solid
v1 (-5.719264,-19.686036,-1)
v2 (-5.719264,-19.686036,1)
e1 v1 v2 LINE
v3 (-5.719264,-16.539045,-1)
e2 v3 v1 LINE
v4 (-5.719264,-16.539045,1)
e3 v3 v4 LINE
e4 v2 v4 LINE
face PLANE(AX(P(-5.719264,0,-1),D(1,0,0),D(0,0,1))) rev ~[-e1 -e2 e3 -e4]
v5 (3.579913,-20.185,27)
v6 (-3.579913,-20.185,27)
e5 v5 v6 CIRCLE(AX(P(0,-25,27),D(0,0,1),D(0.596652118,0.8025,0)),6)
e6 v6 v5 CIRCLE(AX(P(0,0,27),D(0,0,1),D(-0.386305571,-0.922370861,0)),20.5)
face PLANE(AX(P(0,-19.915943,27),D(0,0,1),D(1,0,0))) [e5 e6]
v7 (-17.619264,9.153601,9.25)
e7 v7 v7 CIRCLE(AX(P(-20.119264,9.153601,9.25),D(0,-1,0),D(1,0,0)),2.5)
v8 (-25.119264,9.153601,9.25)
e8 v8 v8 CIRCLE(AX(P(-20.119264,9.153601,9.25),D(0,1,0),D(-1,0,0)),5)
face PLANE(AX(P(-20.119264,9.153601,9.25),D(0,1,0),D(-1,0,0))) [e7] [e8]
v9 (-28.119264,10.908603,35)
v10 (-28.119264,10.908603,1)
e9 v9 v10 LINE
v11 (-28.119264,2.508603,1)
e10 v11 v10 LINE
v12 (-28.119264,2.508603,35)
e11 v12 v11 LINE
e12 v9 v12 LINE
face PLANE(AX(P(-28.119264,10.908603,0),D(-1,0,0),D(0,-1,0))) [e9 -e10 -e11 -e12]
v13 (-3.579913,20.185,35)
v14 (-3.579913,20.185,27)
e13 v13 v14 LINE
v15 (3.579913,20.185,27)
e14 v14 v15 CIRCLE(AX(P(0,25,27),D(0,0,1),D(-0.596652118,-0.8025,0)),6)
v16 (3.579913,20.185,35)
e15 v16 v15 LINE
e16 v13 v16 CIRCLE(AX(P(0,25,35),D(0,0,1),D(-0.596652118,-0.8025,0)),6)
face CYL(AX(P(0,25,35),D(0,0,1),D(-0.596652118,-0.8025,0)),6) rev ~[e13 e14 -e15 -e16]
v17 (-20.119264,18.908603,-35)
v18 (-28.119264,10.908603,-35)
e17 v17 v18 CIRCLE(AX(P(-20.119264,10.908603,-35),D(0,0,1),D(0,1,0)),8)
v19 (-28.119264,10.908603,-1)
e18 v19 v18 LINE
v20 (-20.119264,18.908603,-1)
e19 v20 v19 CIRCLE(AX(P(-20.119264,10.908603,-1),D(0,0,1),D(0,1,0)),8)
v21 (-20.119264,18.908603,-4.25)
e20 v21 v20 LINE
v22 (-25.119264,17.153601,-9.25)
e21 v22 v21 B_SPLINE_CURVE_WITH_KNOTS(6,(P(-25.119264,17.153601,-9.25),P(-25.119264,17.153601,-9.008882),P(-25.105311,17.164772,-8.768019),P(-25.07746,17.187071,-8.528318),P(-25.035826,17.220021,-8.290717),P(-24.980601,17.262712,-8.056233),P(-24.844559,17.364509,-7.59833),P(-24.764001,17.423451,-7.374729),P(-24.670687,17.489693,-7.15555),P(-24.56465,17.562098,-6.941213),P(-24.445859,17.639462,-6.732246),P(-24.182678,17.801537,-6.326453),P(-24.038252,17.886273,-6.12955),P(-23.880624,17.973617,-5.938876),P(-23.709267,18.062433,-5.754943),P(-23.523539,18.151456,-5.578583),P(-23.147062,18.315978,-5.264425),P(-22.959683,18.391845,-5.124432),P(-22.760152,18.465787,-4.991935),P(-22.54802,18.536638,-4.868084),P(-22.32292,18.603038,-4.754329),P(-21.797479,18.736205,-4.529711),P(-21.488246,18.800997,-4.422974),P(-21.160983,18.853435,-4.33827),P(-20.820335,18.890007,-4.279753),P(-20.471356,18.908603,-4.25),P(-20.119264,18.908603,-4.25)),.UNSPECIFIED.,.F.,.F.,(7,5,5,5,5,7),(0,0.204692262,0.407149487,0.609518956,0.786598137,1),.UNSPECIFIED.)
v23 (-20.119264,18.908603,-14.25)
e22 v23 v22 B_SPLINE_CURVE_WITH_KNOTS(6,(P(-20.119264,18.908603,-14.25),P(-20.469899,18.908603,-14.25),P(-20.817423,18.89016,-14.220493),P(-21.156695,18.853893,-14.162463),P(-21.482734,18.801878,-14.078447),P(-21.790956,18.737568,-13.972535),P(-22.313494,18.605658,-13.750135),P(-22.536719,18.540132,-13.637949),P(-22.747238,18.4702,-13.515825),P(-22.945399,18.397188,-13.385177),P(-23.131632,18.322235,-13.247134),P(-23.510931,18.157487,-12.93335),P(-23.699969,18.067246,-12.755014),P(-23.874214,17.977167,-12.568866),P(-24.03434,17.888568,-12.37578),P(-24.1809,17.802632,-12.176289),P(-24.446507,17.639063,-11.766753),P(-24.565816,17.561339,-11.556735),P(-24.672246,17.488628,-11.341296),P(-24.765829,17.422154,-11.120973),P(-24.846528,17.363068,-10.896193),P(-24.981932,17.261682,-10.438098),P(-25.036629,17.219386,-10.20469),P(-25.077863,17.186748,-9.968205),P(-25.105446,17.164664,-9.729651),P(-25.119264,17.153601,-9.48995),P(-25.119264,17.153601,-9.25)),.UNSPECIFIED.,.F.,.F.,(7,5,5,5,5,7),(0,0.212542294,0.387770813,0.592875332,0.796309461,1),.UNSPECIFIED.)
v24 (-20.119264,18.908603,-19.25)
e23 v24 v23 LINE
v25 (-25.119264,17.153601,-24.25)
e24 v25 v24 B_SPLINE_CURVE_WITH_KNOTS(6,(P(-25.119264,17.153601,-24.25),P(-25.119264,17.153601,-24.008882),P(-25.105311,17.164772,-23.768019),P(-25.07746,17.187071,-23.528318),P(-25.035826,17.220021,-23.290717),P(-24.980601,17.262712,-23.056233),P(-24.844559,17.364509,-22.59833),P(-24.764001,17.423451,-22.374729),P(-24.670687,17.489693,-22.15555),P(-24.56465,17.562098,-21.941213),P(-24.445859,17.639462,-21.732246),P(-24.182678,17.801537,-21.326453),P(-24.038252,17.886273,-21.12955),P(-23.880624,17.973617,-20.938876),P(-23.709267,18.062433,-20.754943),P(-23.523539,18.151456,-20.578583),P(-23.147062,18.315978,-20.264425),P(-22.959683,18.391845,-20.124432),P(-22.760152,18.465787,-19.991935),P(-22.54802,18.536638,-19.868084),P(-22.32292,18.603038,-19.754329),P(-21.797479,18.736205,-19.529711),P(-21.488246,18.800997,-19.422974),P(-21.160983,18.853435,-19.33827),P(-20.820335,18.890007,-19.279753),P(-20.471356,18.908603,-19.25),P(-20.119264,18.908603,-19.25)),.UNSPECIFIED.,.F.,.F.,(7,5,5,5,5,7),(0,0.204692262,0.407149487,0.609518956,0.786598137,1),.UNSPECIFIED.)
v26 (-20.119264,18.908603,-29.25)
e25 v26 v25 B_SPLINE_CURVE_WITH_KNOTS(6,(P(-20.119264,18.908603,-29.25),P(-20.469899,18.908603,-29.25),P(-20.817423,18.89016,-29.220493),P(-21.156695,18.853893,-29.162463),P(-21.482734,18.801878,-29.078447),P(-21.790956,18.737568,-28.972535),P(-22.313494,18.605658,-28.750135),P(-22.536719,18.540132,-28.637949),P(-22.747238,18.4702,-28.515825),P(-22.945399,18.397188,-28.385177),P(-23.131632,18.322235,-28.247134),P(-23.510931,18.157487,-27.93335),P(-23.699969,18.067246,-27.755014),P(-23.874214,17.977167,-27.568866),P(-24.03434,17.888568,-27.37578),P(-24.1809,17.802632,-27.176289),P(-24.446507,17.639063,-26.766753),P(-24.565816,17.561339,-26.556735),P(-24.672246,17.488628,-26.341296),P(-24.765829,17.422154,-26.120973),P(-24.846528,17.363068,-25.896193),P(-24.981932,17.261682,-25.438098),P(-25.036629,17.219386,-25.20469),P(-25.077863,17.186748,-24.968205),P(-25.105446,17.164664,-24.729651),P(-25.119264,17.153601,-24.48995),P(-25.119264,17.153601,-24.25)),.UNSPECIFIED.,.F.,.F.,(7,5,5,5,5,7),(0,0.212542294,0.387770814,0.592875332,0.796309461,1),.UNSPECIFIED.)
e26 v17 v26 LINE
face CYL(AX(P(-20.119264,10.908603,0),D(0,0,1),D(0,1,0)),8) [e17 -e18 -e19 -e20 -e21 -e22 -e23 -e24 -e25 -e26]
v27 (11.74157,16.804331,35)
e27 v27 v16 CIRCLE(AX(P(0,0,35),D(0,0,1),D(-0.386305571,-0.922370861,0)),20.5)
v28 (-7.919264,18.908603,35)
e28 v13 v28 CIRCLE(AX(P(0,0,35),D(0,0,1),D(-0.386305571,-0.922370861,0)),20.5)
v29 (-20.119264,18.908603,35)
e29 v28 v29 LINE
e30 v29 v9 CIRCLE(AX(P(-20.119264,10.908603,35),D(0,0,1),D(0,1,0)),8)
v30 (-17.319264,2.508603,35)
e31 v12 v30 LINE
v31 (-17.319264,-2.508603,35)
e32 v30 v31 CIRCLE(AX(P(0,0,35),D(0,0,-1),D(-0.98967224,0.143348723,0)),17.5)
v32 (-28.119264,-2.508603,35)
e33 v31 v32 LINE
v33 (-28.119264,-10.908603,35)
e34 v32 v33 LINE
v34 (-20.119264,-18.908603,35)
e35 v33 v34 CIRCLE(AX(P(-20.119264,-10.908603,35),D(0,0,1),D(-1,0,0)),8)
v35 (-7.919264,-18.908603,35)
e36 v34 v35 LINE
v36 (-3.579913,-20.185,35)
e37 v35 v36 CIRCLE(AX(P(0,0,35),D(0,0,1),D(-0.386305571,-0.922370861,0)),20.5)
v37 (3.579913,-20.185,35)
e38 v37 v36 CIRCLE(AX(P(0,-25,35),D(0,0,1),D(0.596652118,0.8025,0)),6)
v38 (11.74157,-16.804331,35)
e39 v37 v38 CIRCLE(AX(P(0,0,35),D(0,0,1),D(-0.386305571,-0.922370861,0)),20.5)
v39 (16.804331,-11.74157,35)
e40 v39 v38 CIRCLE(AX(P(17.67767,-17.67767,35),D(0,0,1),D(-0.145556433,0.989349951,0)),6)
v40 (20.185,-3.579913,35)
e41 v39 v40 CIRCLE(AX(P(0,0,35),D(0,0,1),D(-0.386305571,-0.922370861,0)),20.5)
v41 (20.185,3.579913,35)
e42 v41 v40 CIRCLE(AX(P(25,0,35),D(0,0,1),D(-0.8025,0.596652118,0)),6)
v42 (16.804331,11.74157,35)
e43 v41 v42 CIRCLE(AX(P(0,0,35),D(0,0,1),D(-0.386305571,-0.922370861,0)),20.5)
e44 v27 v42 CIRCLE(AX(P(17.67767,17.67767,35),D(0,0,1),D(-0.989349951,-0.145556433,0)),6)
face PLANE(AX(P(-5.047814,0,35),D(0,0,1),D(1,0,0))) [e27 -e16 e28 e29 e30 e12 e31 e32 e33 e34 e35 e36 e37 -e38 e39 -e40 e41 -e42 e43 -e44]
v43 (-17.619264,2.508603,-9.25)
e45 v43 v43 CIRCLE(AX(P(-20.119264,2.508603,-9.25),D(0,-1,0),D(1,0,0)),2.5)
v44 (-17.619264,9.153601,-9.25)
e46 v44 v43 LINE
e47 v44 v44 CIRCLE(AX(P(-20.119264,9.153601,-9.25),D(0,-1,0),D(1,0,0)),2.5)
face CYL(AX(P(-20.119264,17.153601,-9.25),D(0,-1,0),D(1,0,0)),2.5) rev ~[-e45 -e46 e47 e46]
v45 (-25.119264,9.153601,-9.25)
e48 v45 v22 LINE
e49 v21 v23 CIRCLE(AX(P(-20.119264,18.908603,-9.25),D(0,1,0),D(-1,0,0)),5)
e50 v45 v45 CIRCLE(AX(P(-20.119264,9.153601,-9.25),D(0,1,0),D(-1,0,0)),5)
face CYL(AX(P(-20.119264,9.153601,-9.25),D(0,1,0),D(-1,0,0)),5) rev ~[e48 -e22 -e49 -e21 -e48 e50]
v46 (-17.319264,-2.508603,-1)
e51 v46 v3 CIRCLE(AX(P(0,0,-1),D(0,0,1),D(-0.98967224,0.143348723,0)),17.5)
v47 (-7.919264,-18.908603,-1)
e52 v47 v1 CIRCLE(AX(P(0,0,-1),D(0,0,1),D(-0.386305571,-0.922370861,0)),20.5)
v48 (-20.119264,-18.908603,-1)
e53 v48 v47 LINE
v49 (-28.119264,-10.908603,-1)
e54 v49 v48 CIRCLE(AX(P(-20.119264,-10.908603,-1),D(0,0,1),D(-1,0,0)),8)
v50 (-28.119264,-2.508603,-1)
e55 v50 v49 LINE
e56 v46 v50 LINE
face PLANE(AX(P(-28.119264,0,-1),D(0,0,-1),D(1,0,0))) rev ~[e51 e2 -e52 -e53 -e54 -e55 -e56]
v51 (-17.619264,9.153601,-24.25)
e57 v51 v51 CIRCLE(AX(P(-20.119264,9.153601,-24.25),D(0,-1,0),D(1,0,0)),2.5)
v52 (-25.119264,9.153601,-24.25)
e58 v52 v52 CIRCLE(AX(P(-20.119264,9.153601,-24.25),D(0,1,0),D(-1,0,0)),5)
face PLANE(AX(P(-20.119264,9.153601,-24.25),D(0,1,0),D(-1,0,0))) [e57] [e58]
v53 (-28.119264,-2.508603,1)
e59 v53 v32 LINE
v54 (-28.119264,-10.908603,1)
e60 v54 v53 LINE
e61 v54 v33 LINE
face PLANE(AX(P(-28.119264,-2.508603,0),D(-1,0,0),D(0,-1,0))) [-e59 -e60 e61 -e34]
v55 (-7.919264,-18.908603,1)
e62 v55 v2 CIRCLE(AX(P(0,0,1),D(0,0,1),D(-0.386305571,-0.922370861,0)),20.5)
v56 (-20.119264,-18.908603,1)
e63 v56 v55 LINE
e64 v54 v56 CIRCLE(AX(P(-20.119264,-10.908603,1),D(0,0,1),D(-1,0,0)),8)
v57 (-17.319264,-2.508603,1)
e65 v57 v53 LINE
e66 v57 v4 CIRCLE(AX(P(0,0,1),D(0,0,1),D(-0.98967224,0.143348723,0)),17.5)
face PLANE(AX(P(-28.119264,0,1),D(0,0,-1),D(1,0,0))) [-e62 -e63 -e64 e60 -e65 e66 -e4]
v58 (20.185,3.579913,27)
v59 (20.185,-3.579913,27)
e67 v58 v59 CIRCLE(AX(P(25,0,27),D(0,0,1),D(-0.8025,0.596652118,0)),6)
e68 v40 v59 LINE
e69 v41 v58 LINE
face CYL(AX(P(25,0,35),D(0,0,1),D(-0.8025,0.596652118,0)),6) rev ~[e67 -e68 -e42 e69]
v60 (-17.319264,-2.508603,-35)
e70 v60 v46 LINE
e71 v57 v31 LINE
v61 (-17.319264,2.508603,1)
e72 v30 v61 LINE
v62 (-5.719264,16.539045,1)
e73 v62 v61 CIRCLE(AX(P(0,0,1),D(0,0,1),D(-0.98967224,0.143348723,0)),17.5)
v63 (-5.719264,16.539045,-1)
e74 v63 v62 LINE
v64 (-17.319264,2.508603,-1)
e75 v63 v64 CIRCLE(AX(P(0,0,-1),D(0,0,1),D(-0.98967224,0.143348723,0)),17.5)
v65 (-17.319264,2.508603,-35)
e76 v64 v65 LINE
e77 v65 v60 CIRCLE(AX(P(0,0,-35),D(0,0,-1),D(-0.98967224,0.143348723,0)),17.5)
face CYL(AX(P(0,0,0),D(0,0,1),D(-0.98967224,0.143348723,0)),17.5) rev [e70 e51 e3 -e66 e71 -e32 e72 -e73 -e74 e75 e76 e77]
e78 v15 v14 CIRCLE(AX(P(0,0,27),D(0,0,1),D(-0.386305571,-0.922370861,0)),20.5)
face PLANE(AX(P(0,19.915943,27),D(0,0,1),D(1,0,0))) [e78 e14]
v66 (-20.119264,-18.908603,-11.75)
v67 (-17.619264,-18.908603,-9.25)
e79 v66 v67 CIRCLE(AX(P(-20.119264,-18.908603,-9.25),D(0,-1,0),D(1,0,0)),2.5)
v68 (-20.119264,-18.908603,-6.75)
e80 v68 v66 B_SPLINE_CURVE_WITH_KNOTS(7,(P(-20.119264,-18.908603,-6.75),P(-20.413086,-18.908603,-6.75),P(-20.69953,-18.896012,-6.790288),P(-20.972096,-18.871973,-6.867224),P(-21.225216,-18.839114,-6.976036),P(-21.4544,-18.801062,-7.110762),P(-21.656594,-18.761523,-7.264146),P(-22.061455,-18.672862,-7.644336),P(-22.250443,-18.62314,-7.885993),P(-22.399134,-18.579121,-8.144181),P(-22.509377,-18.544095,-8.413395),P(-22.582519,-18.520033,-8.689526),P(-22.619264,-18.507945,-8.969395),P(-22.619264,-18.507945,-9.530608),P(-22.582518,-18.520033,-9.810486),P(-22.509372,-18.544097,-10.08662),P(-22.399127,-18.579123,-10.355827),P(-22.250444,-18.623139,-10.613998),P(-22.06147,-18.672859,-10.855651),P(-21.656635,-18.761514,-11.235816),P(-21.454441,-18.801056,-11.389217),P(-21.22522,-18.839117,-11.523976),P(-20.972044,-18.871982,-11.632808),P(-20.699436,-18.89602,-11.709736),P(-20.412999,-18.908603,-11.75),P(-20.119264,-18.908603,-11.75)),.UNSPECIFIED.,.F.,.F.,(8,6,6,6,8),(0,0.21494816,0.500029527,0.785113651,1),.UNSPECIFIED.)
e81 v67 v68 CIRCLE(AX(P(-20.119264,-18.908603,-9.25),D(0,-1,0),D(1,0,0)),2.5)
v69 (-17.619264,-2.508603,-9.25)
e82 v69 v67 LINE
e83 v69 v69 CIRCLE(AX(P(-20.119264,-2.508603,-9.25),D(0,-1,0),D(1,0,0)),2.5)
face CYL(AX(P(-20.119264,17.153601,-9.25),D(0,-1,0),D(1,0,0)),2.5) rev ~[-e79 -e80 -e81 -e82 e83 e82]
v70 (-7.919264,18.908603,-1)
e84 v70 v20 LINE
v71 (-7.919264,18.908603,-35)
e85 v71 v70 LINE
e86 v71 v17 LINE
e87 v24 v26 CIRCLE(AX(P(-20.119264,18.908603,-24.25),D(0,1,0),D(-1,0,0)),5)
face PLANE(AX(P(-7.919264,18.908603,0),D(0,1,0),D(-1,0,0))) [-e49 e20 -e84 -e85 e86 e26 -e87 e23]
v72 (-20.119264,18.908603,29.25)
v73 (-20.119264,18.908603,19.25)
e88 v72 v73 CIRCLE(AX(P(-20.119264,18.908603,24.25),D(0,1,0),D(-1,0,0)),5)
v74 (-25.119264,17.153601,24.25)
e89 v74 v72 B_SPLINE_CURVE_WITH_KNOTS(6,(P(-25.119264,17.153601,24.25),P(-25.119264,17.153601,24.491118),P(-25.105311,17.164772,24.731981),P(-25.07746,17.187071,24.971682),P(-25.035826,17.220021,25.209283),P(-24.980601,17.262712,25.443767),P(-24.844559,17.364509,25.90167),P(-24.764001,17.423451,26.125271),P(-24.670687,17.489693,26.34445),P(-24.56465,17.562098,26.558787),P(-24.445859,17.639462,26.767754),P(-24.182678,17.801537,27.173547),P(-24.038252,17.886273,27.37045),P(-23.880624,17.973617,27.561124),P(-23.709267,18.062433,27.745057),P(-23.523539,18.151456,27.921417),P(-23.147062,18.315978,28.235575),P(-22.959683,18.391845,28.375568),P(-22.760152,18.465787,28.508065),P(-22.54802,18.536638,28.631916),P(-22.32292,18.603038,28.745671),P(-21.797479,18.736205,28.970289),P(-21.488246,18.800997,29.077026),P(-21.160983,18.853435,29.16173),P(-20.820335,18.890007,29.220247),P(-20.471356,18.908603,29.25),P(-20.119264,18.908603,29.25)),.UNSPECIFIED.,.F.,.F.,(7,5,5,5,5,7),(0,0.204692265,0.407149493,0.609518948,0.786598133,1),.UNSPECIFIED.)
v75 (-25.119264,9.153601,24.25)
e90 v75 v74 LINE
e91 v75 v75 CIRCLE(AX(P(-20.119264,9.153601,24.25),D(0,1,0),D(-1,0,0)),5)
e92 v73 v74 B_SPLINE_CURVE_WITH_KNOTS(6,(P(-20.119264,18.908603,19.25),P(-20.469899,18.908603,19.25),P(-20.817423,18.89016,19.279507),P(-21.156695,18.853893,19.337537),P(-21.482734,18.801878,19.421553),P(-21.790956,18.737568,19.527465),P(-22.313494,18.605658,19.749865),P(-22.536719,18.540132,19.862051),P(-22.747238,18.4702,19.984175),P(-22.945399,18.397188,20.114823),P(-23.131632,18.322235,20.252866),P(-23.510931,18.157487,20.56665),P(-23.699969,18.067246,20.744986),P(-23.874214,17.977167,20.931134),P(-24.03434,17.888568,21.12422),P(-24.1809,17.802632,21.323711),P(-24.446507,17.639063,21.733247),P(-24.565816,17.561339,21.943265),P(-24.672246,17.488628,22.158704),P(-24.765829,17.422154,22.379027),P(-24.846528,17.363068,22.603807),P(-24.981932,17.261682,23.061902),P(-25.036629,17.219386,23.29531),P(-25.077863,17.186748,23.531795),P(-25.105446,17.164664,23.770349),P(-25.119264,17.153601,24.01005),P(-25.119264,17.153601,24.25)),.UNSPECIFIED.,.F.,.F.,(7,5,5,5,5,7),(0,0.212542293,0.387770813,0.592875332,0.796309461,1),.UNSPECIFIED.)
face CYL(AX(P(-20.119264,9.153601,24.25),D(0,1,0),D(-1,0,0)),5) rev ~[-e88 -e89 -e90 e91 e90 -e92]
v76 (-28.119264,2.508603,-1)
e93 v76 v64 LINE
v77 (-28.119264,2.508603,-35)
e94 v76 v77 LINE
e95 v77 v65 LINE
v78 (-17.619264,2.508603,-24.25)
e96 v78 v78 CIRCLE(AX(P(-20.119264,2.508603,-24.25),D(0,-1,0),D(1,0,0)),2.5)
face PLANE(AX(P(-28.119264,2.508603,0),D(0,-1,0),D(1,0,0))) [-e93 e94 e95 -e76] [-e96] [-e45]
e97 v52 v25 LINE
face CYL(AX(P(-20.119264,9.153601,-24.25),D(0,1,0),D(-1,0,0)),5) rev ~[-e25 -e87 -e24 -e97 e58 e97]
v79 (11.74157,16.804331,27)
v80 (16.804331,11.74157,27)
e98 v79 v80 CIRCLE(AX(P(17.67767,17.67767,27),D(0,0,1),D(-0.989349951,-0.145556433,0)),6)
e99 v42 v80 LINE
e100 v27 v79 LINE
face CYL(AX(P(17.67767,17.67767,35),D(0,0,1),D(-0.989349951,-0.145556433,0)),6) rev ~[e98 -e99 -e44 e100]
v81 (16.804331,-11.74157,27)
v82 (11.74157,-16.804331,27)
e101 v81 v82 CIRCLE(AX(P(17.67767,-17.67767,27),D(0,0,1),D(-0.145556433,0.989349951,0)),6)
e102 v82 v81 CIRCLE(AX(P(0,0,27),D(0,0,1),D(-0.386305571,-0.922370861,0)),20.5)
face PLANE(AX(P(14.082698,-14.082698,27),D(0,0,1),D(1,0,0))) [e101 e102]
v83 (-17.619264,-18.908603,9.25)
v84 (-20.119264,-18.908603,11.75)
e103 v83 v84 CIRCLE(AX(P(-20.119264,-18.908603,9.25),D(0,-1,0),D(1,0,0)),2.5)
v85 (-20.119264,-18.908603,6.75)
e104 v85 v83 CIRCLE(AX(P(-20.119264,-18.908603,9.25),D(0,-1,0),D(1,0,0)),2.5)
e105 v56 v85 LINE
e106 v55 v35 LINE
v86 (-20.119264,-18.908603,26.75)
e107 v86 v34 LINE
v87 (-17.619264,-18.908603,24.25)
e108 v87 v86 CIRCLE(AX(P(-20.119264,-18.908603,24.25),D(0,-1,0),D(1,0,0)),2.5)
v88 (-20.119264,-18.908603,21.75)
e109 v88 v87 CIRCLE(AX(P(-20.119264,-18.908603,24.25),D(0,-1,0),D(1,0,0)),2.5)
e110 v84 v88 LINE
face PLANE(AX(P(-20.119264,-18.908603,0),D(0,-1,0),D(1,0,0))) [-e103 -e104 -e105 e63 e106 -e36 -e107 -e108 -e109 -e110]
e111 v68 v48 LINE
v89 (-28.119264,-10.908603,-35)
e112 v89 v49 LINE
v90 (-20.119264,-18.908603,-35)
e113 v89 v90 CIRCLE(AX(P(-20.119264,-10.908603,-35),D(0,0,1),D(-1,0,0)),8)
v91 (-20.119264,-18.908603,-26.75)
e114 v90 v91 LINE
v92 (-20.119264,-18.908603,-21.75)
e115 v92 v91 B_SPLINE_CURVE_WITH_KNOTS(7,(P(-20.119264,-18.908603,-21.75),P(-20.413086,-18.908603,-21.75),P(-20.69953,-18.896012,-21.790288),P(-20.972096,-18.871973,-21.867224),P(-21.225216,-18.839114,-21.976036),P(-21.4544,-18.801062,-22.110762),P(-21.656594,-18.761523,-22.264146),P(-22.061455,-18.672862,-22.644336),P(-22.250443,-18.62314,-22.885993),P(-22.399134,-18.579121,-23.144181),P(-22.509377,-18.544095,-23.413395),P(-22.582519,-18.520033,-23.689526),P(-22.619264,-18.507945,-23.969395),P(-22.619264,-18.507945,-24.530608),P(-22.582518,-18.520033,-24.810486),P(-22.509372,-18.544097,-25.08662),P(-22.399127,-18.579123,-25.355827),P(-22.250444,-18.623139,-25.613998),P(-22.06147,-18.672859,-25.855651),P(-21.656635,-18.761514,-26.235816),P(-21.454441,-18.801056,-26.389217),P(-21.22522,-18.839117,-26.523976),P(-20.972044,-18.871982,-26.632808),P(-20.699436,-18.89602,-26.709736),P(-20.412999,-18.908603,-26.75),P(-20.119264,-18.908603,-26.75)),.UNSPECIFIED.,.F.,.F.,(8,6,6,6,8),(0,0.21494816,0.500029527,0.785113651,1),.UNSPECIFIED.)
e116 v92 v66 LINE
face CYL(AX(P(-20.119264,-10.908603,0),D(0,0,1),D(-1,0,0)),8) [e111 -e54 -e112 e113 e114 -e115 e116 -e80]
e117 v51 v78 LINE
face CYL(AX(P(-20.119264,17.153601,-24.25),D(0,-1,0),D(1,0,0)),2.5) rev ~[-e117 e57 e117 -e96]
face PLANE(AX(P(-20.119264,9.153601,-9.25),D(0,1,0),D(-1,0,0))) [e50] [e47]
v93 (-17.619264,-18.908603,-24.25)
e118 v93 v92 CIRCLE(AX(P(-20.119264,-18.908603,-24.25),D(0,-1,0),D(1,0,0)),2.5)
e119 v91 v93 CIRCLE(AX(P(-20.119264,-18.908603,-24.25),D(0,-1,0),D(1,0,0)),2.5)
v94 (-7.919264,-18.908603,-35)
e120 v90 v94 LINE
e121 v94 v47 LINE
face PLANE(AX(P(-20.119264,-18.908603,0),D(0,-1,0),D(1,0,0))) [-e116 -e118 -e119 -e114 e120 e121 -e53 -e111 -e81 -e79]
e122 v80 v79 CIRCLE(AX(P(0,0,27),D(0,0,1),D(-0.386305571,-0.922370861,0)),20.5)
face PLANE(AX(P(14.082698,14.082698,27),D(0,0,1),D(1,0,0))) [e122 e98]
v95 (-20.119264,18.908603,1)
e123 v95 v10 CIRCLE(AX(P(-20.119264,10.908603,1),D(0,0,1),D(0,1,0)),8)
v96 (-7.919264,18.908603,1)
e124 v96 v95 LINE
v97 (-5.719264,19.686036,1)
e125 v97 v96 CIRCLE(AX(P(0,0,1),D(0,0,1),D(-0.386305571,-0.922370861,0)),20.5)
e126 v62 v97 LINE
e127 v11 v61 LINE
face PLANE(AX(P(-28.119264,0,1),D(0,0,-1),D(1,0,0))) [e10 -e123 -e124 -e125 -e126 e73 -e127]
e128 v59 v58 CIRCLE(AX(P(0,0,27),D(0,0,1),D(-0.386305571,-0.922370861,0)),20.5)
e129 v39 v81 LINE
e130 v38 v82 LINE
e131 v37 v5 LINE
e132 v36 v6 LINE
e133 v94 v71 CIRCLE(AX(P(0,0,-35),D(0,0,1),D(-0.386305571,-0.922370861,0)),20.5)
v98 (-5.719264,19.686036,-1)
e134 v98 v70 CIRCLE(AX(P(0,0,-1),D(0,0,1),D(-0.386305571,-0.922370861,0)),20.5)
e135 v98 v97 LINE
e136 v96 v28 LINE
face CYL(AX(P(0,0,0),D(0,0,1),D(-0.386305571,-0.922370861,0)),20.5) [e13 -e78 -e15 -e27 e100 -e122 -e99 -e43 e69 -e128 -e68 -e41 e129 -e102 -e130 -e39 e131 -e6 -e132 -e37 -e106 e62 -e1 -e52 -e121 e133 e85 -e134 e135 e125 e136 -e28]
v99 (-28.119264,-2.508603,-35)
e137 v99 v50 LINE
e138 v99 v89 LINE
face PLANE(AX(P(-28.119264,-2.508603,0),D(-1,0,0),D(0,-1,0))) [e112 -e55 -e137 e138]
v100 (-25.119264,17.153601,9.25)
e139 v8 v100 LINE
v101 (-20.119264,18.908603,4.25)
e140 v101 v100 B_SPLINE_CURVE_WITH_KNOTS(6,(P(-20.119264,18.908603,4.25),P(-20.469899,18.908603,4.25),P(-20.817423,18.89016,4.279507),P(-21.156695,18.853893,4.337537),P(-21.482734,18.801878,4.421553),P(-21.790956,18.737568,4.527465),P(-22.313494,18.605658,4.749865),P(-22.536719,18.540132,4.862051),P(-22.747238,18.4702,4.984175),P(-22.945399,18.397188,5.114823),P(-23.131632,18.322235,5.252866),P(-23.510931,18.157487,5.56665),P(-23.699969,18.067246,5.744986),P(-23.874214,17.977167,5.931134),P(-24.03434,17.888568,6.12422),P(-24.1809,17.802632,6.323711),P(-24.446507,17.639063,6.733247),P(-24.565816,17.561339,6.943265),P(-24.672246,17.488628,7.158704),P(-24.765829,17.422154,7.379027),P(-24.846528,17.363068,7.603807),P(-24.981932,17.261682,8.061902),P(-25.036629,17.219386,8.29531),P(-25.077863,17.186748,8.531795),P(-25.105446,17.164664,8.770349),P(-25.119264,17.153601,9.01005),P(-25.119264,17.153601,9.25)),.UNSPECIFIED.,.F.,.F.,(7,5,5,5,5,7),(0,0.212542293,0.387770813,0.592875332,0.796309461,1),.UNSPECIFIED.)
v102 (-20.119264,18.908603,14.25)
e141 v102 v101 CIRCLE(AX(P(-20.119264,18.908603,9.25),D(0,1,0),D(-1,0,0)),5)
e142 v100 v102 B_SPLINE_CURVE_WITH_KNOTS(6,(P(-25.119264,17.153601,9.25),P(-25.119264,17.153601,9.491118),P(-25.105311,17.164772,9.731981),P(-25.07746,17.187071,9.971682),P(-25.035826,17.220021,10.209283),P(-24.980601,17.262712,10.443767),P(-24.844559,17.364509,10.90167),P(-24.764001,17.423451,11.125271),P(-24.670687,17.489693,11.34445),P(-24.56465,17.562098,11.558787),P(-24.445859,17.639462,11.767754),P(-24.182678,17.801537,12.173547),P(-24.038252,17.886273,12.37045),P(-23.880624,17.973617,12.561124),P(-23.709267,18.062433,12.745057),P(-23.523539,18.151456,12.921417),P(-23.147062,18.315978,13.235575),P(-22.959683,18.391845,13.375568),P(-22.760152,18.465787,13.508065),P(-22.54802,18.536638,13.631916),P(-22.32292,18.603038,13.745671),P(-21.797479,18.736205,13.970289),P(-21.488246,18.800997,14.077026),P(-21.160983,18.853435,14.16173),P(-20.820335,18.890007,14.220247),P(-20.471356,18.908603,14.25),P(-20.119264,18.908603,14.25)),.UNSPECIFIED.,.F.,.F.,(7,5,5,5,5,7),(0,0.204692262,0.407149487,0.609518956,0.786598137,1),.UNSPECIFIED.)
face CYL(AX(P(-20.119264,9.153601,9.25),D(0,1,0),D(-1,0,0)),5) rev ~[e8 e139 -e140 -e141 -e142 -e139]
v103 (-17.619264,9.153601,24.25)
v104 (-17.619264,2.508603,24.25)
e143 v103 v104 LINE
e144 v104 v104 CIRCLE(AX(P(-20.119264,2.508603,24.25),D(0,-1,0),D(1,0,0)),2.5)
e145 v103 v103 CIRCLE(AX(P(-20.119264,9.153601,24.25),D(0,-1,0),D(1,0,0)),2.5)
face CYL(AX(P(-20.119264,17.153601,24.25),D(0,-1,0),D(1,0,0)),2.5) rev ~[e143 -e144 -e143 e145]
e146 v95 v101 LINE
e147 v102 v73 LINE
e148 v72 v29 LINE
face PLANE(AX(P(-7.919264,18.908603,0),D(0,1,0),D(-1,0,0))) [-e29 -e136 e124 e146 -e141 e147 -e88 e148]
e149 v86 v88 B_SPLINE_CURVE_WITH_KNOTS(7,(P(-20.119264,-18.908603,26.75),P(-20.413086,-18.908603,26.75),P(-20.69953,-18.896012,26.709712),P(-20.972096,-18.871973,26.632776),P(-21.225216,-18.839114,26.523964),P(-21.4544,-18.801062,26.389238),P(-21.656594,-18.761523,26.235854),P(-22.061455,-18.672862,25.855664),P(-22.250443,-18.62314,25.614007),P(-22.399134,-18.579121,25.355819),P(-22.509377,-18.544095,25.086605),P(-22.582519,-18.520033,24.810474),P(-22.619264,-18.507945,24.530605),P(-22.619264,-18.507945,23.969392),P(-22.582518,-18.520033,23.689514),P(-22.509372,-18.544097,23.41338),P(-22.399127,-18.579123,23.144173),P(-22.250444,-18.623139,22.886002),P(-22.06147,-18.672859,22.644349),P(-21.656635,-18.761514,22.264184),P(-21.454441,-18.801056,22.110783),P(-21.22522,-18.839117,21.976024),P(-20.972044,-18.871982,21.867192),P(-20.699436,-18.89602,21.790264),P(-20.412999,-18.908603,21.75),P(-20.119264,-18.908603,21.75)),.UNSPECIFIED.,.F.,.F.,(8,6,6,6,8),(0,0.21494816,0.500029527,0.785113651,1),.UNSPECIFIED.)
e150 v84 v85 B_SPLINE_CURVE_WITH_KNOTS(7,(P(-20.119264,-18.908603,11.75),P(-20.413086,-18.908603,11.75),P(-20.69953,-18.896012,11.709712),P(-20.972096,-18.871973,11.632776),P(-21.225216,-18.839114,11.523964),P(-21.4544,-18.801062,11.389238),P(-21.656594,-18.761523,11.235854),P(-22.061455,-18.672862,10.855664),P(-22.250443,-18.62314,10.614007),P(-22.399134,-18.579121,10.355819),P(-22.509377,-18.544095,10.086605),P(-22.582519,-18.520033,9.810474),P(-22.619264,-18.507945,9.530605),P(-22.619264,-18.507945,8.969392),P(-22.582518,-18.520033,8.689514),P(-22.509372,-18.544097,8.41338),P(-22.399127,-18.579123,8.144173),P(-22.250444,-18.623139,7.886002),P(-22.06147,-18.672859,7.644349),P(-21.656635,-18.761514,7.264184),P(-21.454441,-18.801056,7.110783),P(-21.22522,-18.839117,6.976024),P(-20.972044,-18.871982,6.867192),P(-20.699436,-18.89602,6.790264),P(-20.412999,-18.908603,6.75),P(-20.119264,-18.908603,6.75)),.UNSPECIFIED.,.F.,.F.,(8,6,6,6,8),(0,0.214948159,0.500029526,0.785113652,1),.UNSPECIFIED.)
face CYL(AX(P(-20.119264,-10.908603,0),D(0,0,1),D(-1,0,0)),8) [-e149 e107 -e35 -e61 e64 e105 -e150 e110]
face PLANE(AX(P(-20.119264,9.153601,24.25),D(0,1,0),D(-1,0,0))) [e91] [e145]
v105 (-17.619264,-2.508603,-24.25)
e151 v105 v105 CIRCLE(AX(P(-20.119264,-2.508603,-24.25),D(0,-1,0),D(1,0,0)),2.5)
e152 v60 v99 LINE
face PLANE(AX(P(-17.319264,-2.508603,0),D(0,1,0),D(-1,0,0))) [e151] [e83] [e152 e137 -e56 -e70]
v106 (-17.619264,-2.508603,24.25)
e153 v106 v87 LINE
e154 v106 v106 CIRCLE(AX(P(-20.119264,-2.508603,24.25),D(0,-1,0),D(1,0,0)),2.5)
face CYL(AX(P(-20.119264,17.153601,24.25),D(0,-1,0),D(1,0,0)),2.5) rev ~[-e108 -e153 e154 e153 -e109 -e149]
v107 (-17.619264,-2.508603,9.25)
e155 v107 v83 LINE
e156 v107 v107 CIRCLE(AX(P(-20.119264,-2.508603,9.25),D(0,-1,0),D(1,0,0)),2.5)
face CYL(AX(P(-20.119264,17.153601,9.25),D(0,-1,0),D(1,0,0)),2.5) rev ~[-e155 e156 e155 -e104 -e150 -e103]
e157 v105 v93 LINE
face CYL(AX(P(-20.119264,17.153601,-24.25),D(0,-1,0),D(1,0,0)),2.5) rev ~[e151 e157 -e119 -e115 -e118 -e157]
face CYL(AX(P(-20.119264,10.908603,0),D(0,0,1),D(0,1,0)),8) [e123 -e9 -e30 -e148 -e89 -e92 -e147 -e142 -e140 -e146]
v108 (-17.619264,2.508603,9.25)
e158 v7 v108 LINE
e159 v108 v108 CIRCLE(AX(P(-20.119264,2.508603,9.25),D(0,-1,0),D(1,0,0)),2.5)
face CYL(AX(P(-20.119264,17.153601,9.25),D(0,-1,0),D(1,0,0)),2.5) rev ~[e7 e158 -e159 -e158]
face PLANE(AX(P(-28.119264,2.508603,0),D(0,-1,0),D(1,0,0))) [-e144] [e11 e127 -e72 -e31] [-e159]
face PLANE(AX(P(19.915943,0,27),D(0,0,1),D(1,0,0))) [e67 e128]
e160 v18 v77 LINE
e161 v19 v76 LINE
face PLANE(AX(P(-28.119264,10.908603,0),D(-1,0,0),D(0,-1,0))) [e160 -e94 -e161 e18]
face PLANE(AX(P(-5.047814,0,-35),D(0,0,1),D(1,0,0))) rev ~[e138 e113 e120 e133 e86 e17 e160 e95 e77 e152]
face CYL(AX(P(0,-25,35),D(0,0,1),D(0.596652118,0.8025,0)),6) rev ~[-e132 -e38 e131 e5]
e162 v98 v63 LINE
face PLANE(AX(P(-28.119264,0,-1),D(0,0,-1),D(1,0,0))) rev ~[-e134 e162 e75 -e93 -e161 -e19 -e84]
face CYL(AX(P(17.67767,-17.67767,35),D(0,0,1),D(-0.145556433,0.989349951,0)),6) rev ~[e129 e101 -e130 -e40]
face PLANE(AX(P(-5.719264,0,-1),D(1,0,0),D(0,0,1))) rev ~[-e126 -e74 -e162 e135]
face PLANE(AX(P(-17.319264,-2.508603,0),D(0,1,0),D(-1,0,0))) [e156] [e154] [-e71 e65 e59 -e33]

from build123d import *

# Parameters (mm, degrees)
F1_DEPTH       = 35
F3_D           = 5
F3_START       = 1.7550021
F3_CBORE_D     = 10
F3_CBORE_DEPTH = 8
F4_W           = 22.4
F4_H           = 2
F5_DEPTH       = 25
F7_DEPTH       = 8


with BuildPart() as f1:
    # F0 (on Top) → F1 (new body, symmetric)
    with BuildSketch(Plane.XY):
        with BuildLine():
            ThreePointArc((-17.3192642082, 2.5086026559), (17.5, 0), (-17.3192642082, -2.5086026559))
            Line((-17.3192642082, -2.5086026559), (-28.1192642082, -2.5086026559))
            Line((-28.1192642082, -2.5086026559), (-28.1192642082, -10.9086026559))
            ThreePointArc((-28.1192642082, -10.9086026559), (-25.7761184577, -16.5654569054), (-20.1192642082, -18.9086026559))
            Line((-20.1192642082, -18.9086026559), (-7.9192642082, -18.9086026559))
            ThreePointArc((-7.9192642082, -18.9086026559), (20.5, 0), (-7.9192642082, 18.9086026559))
            Line((-7.9192642082, 18.9086026559), (-20.1192642082, 18.9086026559))
            ThreePointArc((-20.1192642082, 18.9086026559), (-25.7761184577, 16.5654569054), (-28.1192642082, 10.9086026559))
            Line((-28.1192642082, 10.9086026559), (-28.1192642082, 2.5086026559))
            Line((-28.1192642082, 2.5086026559), (-17.3192642082, 2.5086026559))
        make_face()
    extrude(amount=F1_DEPTH, both=True)

    # F3 (through all)
    # its depths count from where the whole tool has entered the part; down to there all is cleared
    with Locations(Plane(origin=(0, 18.9086026559, 0), x_dir=(-1, 0, 0), z_dir=(0, 1, 0)).offset(-F3_START)):
        with Locations((20.1192642082, -24.25), (20.1192642082, -9.25), (20.1192642082, 9.25), (20.1192642082, 24.25)):
            CounterBoreHole(F3_D / 2, F3_CBORE_D / 2, F3_CBORE_DEPTH)

    # F4 (on Front) → F5 (cut, symmetric)
    with BuildSketch(Plane.XZ):
        with Locations((-16.9192642082, 0)):
            Rectangle(F4_W, F4_H)
    extrude(amount=F5_DEPTH, both=True, mode=Mode.SUBTRACT)

    # F6 (on face) → F7 (cut)
    with BuildSketch(Plane.XY.offset(35)):
        with BuildLine():
            ThreePointArc((-3.5799127084, 20.185), (0, 19), (3.5799127084, 20.185))
            ThreePointArc((3.5799127084, 20.185), (0, 20.5), (-3.5799127084, 20.185))
        make_face()
        with BuildLine():
            ThreePointArc((-3.5799127084, 20.185), (0, 20.5), (3.5799127084, 20.185))
            ThreePointArc((3.5799127084, 20.185), (5.3609456372, 22.305512688), (6, 25))
            ThreePointArc((6, 25), (-2.694487312, 30.3609456372), (-3.5799127084, 20.185))
        make_face()
        with BuildLine():
            ThreePointArc((11.7415698261, 16.8043309304), (13.4350288425, 13.4350288425), (16.8043309304, 11.7415698261))
            ThreePointArc((16.8043309304, 11.7415698261), (14.4956890143, 14.4956890143), (11.7415698261, 16.8043309304))
        make_face()
        with BuildLine():
            ThreePointArc((11.7415698261, 16.8043309304), (14.4956890143, 14.4956890143), (16.8043309304, 11.7415698261))
            ThreePointArc((16.8043309304, 11.7415698261), (21.5994018258, 13.1367427743), (23.6776695297, 17.6776695297))
            ThreePointArc((23.6776695297, 17.6776695297), (17.2398329286, 23.6616731318), (11.7415698261, 16.8043309304))
        make_face()
        with BuildLine():
            ThreePointArc((20.185, 3.5799127084), (19, 0), (20.185, -3.5799127084))
            ThreePointArc((20.185, -3.5799127084), (20.5, 0), (20.185, 3.5799127084))
        make_face()
        with BuildLine():
            ThreePointArc((20.185, 3.5799127084), (20.5, 0), (20.185, -3.5799127084))
            ThreePointArc((20.185, -3.5799127084), (26.8854707635, -5.6960512638), (31, 0))
            ThreePointArc((31, 0), (26.8854707635, 5.6960512638), (20.185, 3.5799127084))
        make_face()
        with BuildLine():
            ThreePointArc((16.8043309304, -11.7415698261), (13.4350288425, -13.4350288425), (11.7415698261, -16.8043309304))
            ThreePointArc((11.7415698261, -16.8043309304), (14.4956890143, -14.4956890143), (16.8043309304, -11.7415698261))
        make_face()
        with BuildLine():
            ThreePointArc((16.8043309304, -11.7415698261), (14.4956890143, -14.4956890143), (11.7415698261, -16.8043309304))
            ThreePointArc((11.7415698261, -16.8043309304), (17.2398329286, -23.6616731318), (23.6776695297, -17.6776695297))
            ThreePointArc((23.6776695297, -17.6776695297), (21.5994018258, -13.1367427743), (16.8043309304, -11.7415698261))
        make_face()
        with BuildLine():
            ThreePointArc((-3.5799127084, -20.185), (0, -20.5), (3.5799127084, -20.185))
            ThreePointArc((3.5799127084, -20.185), (0, -19), (-3.5799127084, -20.185))
        make_face()
        with BuildLine():
            ThreePointArc((-3.5799127084, -20.185), (-2.694487312, -30.3609456372), (6, -25))
            ThreePointArc((6, -25), (5.3609456372, -22.305512688), (3.5799127084, -20.185))
            ThreePointArc((3.5799127084, -20.185), (0, -20.5), (-3.5799127084, -20.185))
        make_face()
    extrude(amount=-F7_DEPTH, mode=Mode.SUBTRACT)


solid = f1.part
